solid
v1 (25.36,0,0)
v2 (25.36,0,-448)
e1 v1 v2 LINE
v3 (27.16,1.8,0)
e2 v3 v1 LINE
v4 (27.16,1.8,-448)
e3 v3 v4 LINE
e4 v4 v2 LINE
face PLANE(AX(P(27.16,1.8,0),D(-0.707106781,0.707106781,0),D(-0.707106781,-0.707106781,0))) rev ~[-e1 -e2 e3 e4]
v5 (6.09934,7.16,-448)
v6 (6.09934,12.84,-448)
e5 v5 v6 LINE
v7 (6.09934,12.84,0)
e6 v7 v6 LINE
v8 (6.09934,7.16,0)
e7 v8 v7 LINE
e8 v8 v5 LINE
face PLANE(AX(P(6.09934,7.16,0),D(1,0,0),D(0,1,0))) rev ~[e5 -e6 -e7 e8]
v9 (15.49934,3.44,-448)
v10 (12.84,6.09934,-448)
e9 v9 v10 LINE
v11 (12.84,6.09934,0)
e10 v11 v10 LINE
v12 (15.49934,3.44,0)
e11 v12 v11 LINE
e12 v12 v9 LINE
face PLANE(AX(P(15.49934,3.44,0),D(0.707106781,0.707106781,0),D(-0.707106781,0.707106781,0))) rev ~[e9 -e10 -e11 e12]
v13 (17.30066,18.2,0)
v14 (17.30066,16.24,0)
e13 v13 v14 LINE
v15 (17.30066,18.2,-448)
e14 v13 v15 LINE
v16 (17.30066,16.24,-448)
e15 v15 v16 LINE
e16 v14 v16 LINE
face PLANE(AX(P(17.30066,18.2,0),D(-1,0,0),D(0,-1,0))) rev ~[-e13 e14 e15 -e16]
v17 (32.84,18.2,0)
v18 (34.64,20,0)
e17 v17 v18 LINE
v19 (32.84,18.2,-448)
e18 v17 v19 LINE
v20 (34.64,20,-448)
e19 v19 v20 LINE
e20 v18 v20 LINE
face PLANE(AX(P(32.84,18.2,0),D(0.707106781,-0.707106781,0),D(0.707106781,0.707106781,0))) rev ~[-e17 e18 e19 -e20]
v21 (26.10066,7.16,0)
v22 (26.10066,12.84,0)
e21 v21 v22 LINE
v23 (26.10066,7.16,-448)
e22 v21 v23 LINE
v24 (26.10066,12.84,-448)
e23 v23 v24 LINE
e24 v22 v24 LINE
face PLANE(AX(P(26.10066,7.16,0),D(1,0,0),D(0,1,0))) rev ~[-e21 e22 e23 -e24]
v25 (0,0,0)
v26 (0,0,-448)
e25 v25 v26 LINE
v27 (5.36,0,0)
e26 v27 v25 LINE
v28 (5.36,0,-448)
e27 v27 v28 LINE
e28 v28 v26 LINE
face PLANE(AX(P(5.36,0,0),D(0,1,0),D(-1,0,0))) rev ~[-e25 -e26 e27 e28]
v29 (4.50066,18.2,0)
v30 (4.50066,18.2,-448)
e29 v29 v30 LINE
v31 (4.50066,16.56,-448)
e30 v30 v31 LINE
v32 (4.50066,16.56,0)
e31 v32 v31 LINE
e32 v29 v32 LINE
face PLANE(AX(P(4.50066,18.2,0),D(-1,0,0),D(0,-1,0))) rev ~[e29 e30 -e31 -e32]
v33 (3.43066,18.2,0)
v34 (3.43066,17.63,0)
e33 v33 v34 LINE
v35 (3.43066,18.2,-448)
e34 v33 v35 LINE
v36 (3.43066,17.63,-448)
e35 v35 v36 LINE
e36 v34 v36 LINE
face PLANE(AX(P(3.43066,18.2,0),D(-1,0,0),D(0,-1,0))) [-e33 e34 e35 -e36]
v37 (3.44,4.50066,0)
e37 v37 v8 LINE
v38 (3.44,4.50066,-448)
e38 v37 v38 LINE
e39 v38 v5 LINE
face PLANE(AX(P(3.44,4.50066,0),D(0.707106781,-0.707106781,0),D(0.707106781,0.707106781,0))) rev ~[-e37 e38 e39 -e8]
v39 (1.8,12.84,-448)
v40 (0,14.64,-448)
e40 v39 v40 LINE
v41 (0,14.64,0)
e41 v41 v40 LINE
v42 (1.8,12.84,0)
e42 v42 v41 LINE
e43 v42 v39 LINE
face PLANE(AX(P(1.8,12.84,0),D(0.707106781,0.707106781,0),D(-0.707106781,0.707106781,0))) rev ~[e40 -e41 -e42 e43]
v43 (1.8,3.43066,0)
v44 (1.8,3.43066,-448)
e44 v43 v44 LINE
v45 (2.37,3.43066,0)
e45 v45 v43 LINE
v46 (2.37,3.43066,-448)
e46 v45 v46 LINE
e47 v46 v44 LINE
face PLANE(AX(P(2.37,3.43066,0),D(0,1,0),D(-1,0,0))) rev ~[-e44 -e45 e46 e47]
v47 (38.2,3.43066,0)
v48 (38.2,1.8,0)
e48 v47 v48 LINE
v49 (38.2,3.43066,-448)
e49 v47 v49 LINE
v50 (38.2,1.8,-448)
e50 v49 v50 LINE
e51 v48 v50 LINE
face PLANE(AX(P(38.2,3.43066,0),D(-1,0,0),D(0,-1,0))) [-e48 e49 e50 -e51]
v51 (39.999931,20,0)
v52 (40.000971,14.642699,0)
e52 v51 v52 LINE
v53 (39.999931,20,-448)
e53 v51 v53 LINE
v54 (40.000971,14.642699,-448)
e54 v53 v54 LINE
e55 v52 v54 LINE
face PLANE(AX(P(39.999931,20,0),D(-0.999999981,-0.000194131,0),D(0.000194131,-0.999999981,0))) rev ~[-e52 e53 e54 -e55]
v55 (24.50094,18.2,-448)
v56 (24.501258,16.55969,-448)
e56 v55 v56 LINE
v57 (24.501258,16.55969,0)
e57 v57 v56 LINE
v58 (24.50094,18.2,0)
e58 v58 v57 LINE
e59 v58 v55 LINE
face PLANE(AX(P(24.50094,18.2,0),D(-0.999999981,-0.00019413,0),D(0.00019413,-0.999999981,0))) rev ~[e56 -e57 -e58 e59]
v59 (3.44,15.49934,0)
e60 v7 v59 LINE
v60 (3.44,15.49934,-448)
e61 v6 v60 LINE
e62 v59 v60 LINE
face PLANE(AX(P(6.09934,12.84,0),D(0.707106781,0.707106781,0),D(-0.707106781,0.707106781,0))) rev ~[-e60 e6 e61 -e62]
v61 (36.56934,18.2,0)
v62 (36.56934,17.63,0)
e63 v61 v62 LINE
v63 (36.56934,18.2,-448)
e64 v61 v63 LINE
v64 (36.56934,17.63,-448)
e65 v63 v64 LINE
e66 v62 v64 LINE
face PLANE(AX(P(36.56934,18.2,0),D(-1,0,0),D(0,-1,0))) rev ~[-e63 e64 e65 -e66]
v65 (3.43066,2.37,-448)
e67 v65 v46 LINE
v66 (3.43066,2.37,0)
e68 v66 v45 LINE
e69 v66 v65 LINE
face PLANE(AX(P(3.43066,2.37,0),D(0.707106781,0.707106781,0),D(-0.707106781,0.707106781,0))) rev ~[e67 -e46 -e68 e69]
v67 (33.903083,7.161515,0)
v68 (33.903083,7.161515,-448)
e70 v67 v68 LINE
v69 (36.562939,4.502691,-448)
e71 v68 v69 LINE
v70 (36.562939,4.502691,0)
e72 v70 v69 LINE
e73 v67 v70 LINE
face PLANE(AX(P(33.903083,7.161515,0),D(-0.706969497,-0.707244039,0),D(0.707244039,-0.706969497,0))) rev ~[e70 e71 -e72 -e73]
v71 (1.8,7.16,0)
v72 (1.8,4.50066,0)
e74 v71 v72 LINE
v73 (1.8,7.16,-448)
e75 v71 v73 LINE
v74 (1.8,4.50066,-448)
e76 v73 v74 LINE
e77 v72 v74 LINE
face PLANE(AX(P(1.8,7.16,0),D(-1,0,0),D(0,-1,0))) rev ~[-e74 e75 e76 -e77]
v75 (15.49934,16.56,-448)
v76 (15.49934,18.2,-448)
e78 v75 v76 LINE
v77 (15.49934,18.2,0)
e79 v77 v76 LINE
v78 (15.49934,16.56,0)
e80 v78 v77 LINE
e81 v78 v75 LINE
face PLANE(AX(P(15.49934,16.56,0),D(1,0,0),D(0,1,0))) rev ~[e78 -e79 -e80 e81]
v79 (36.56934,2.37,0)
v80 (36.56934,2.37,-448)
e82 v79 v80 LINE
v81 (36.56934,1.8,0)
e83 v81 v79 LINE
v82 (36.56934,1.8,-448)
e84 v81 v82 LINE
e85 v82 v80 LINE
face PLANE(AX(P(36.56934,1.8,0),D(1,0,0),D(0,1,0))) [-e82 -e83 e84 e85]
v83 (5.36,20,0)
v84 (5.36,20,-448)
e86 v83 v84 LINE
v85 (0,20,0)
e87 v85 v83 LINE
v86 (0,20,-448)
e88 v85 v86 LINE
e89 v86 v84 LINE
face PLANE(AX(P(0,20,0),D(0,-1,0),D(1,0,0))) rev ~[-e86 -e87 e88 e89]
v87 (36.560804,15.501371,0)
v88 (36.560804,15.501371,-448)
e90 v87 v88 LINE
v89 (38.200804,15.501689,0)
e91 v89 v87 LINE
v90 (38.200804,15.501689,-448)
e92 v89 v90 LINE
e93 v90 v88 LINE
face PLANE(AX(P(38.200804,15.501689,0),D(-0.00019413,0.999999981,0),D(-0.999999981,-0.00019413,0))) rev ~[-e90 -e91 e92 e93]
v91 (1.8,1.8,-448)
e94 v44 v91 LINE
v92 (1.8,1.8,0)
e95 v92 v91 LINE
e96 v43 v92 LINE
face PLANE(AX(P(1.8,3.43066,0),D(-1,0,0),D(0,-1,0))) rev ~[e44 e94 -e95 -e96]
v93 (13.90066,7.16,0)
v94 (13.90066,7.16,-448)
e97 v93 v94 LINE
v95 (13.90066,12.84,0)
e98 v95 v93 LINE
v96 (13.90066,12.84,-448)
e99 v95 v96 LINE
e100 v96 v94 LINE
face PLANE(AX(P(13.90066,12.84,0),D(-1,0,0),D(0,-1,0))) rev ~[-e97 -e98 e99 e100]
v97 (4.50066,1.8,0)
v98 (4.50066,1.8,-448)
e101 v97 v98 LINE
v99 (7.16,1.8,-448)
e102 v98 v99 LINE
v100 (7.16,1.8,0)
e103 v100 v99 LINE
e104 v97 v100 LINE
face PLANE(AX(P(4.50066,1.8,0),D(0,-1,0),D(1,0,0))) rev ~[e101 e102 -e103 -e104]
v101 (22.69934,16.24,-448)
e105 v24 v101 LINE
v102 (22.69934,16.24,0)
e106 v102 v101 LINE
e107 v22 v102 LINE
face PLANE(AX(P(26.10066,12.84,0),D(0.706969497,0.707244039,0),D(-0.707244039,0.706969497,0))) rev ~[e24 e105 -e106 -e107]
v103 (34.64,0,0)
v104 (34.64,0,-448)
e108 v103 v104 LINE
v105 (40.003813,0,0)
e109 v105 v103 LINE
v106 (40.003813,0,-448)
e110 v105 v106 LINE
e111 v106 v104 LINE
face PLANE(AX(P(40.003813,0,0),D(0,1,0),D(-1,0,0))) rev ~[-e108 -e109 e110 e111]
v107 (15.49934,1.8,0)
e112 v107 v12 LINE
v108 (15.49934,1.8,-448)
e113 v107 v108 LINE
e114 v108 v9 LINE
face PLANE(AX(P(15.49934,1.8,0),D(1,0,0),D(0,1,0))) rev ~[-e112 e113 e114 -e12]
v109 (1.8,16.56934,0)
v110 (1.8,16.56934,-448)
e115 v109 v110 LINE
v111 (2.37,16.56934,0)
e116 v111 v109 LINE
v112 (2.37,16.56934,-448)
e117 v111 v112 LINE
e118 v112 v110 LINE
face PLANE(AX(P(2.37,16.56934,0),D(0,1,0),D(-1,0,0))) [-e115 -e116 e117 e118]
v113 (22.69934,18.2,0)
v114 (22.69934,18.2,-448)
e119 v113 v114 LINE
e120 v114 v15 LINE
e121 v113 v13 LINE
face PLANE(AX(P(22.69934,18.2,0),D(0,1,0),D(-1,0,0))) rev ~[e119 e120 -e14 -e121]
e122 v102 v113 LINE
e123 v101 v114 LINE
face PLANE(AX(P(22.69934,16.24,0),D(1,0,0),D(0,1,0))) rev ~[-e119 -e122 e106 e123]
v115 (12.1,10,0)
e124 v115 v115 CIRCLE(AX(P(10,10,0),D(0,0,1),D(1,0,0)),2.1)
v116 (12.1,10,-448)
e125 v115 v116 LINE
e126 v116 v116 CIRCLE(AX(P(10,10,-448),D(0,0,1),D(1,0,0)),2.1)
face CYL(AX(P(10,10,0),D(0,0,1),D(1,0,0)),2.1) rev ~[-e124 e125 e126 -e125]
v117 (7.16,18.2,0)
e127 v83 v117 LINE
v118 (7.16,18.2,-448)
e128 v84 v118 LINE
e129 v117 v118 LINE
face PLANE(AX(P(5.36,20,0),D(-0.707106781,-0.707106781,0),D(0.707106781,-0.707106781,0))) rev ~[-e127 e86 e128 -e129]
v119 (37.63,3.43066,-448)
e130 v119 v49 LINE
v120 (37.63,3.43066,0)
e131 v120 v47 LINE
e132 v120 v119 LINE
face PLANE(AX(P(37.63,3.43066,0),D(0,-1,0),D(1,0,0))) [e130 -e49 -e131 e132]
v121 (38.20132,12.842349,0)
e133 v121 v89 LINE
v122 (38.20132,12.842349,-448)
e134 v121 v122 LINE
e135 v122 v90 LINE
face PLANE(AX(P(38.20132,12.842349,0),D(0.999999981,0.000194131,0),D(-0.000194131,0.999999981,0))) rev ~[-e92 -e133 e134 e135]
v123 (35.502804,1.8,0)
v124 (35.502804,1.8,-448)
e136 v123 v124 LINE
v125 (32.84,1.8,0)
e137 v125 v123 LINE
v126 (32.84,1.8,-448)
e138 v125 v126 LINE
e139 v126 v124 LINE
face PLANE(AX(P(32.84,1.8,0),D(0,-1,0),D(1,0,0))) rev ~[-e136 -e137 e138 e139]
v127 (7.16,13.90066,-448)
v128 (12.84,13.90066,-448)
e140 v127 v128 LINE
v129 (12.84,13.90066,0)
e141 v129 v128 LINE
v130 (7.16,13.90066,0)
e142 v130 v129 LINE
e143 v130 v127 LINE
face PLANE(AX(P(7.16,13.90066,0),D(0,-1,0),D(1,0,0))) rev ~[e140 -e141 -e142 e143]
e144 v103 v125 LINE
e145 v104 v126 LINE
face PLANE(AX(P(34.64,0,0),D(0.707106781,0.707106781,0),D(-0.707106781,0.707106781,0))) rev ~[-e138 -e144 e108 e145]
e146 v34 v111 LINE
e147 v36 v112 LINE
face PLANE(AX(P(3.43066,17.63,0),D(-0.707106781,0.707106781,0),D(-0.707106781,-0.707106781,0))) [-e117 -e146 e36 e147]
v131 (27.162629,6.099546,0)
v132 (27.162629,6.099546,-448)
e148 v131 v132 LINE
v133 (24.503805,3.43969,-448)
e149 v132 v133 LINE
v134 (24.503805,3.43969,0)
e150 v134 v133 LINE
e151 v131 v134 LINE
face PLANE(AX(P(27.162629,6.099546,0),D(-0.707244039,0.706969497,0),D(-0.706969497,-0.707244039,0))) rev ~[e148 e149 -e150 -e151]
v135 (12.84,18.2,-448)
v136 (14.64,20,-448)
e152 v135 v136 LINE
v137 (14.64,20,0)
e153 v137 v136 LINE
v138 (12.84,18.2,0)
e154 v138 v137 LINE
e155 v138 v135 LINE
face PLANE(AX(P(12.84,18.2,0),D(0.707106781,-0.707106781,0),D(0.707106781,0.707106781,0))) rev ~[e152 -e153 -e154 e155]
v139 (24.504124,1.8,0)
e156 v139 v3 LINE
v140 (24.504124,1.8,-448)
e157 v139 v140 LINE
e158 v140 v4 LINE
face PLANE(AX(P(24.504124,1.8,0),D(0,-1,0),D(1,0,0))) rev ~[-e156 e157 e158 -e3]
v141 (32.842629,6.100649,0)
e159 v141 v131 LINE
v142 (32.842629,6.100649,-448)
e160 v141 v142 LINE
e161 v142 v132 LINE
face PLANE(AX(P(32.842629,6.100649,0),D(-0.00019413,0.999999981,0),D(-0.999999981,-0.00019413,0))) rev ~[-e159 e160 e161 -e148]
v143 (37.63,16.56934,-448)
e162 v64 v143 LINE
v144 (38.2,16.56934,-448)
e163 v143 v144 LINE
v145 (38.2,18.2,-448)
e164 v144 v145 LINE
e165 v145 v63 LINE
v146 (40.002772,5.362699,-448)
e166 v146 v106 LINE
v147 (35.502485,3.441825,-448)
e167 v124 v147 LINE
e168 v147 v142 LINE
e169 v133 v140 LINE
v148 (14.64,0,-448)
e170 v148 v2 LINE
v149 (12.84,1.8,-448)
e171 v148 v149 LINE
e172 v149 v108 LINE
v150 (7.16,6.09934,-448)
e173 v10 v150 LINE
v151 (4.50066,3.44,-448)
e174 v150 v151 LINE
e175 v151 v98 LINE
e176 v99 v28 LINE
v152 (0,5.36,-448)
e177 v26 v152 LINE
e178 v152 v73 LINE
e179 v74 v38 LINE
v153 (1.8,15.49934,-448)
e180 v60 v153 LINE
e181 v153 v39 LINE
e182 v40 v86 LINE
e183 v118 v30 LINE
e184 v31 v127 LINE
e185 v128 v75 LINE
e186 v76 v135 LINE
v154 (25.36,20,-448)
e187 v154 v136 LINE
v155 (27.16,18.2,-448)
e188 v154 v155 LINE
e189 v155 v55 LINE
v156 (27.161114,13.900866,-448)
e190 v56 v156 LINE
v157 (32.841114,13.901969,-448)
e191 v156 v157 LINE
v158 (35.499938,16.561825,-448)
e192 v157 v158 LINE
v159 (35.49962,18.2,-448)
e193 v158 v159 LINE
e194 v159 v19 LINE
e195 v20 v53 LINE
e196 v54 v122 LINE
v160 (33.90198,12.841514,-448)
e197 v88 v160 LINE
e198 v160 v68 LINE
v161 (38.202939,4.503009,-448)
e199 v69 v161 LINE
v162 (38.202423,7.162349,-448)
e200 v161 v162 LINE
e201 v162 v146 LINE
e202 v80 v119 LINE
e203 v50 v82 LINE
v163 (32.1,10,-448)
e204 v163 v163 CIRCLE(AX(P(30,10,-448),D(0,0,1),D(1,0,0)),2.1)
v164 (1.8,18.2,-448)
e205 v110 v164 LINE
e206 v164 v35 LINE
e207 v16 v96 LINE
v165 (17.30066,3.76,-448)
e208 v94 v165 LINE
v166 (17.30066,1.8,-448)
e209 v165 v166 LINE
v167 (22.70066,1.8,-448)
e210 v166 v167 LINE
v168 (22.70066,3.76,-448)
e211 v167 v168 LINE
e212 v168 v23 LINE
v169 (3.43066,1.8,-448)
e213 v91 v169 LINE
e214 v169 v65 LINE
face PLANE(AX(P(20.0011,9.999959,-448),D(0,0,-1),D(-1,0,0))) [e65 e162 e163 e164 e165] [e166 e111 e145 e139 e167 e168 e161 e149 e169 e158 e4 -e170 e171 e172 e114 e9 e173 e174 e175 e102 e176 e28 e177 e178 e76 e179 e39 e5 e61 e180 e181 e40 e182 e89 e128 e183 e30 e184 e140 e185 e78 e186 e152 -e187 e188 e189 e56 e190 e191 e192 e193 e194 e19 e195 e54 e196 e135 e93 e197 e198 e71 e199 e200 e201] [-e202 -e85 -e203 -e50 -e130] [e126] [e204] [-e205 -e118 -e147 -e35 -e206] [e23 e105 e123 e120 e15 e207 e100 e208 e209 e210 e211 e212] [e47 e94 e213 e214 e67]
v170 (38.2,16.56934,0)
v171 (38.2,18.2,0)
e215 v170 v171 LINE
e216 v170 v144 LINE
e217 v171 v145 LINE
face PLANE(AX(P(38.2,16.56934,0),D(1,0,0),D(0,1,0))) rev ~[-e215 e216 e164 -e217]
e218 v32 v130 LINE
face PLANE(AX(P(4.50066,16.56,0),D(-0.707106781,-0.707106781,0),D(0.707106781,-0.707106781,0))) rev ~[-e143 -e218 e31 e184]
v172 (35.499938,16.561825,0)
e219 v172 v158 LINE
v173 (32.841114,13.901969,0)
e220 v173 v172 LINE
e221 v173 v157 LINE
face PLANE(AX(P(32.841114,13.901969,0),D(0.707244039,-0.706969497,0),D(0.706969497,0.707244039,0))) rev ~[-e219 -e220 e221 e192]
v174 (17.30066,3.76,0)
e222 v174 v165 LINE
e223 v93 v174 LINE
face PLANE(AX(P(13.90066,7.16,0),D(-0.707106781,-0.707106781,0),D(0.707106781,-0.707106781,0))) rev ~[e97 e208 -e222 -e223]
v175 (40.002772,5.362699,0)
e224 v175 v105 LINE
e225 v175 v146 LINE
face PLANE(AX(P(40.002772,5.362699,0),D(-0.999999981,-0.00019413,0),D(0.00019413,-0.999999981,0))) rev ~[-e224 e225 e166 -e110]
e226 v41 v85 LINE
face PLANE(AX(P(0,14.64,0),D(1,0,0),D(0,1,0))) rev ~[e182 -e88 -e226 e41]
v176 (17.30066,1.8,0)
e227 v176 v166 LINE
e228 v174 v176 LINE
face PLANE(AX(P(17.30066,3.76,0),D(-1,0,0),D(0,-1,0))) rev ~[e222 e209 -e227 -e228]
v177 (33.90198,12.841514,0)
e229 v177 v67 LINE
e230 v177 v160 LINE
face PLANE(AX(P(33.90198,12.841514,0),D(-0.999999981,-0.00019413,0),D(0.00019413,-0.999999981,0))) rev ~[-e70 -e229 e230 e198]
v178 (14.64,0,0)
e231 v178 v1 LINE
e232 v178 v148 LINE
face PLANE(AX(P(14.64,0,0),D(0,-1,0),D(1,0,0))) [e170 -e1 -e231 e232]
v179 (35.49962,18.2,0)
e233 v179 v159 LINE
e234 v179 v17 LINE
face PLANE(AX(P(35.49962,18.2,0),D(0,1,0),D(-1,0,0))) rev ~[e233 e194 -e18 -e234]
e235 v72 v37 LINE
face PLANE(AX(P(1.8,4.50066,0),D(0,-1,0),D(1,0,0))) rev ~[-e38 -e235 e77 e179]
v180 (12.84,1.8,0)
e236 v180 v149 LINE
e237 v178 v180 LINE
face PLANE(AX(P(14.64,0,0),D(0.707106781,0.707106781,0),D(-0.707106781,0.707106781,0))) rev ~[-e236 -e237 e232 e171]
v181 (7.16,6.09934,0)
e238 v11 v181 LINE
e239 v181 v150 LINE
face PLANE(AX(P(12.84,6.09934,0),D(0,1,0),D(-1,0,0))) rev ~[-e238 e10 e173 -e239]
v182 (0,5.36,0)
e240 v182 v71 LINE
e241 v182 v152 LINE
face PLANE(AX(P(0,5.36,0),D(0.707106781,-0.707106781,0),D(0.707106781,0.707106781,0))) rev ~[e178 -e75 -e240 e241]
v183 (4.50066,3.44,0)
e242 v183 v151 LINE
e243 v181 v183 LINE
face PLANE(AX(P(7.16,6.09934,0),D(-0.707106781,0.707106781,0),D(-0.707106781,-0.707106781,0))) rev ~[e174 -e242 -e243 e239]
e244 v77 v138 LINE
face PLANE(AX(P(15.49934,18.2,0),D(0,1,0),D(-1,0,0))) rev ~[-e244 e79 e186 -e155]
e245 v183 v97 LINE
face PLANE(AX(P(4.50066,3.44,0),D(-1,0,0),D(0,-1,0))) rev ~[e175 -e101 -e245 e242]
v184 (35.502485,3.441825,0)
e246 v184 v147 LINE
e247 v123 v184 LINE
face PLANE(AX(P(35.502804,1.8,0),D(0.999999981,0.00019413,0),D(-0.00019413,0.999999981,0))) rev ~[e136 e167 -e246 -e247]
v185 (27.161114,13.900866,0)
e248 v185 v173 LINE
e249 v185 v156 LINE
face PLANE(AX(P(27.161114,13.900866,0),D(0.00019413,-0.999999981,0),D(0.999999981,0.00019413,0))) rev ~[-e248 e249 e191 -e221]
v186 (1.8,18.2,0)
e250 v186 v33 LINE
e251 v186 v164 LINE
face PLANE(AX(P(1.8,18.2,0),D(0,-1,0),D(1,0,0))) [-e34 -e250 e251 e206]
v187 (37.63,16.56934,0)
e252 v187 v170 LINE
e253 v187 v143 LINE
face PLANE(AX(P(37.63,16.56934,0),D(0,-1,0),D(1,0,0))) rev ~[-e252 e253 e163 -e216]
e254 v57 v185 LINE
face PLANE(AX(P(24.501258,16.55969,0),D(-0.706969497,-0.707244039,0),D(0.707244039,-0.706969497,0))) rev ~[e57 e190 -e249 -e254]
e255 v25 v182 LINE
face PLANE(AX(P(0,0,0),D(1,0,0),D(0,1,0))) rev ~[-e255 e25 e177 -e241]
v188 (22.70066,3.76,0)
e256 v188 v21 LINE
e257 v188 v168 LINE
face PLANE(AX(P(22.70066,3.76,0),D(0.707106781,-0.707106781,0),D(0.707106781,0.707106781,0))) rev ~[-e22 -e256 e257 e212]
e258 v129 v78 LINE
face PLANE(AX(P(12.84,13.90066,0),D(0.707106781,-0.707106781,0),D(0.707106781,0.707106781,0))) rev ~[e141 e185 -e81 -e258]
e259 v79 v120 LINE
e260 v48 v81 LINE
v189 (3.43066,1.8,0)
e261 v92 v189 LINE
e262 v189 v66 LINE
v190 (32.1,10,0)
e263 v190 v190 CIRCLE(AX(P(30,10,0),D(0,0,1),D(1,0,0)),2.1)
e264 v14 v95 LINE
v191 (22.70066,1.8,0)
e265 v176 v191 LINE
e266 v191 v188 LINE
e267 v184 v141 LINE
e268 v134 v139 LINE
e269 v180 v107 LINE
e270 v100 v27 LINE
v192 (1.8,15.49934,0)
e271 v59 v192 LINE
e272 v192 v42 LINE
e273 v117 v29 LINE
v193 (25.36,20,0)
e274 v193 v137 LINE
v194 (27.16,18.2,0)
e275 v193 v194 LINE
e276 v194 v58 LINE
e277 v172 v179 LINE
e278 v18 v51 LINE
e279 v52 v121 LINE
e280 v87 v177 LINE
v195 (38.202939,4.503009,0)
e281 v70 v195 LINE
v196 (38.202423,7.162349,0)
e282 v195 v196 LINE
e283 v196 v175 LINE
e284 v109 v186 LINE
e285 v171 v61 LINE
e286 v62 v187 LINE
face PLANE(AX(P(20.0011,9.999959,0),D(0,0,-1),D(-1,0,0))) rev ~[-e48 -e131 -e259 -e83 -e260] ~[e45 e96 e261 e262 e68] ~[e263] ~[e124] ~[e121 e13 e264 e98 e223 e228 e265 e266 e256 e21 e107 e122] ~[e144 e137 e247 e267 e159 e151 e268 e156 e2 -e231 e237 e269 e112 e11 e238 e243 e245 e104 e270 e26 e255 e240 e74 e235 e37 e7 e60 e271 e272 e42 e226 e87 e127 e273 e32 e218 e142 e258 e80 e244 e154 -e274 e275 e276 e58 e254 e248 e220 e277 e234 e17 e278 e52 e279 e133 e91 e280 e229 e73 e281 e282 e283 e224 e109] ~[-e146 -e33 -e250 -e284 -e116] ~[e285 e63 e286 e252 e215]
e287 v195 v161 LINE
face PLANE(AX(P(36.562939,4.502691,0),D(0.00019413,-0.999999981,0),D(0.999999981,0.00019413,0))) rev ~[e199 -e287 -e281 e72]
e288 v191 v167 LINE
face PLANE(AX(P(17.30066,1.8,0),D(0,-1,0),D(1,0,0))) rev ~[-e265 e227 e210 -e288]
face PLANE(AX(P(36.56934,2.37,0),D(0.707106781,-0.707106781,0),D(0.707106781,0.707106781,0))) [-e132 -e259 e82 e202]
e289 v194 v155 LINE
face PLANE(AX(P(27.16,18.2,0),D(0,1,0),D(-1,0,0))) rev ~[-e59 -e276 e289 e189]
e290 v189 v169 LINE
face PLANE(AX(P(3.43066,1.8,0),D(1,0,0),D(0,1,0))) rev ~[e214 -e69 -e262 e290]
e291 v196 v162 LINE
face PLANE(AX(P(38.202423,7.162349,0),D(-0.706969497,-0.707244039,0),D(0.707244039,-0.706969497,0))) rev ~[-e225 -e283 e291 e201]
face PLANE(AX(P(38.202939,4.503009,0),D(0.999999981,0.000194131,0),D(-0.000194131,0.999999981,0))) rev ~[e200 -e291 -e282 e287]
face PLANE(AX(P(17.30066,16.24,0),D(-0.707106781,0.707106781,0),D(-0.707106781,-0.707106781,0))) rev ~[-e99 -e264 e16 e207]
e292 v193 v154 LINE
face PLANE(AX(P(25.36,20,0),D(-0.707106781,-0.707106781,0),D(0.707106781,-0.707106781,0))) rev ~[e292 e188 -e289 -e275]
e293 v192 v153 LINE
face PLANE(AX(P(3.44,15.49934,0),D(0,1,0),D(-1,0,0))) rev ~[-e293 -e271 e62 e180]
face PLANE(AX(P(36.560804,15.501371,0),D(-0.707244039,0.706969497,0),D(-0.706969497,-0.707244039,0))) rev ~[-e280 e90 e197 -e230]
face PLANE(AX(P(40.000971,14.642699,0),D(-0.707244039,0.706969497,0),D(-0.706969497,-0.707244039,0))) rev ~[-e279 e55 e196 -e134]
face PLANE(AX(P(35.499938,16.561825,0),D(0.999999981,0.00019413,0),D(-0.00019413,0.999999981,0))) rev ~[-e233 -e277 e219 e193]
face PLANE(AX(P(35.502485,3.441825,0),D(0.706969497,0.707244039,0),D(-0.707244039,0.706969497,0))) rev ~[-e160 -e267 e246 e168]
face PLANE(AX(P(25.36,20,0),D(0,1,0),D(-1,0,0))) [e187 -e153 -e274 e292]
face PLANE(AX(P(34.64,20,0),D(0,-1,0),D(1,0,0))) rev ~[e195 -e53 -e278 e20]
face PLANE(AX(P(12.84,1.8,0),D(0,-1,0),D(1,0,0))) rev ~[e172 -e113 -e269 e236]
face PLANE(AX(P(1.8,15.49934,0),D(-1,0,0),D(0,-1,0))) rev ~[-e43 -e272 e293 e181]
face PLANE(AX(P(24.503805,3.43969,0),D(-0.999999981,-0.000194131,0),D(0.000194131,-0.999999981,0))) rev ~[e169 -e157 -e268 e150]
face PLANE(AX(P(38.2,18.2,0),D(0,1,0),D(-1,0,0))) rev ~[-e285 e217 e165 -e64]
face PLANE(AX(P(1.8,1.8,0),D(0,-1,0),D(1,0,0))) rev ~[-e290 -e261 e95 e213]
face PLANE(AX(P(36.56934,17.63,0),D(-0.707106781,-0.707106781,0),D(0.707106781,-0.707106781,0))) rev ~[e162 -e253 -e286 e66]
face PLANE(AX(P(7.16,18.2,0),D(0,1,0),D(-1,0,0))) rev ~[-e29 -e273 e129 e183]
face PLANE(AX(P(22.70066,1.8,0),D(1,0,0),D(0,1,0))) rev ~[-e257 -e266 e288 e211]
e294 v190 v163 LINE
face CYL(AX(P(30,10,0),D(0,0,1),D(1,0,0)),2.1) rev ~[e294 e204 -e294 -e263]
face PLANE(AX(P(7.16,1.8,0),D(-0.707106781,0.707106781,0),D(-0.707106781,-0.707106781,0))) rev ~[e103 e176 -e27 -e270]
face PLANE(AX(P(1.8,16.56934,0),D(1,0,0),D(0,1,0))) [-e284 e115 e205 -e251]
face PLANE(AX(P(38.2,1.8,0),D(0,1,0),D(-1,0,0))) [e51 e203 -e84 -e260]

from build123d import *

# Parameters (mm, degrees)
SKETCH1_R           = 2.1
BOSS_EXTRUDE1_DEPTH = 448


with BuildPart() as part:
    # Sketch1 → Boss-Extrude1 (new body)
    with BuildSketch(Plane.XY):
        Polygon((0, 0), (0, 5.36), (1.8, 7.16), (1.8, 4.500660172), (3.44, 4.500660172), (6.099339828, 7.16), (6.099339828, 12.84), (3.44, 15.499339828), (1.8, 15.499339828), (1.8, 12.84), (0, 14.64), (0, 20), (5.36, 20), (7.16, 18.2), (4.500660172, 18.2), (4.500660172, 16.56), (7.16, 13.900660172), (12.84, 13.900660172), (15.499339828, 16.56), (15.499339828, 18.2), (12.84, 18.2), (14.64, 20), (20, 20), (25.36, 20), (27.16, 18.2), (24.500939946, 18.2), (24.50125838, 16.559689577), (27.161114417, 13.900866058), (32.84111431, 13.901968719), (35.499937829, 16.561824756), (35.49961981, 18.2), (32.84, 18.2), (34.64, 20), (39.999930631, 20), (40.000970647, 14.642698508), (38.201320116, 12.842349107), (38.200803857, 15.501688885), (36.560803888, 15.501370511), (33.901980368, 12.841514474), (33.903083029, 7.161514581), (36.562939066, 4.502691062), (38.202939036, 4.503009436), (38.202422777, 7.162349214), (40.002772178, 5.362698683), (40.003813241, 0), (34.64, 0), (32.84, 1.8), (35.502803549, 1.8), (35.502484821, 3.441825004), (32.842628784, 6.100648523), (27.162628891, 6.099545862), (24.503805372, 3.439689825), (24.504123686, 1.8), (27.16, 1.8), (25.36, 0), (20, 0), (14.64, 0), (12.84, 1.8), (15.499339828, 1.8), (15.499339828, 3.44), (12.84, 6.099339828), (7.16, 6.099339828), (4.500660172, 3.44), (4.500660172, 1.8), (7.16, 1.8), (5.36, 0), align=None)
        with Locations((10, 10)):
            Circle(SKETCH1_R, mode=Mode.SUBTRACT)
        with Locations((30, 10)):
            Circle(SKETCH1_R, mode=Mode.SUBTRACT)
        Polygon((17.300660172, 3.76), (17.300660172, 1.8), (22.700660172, 1.8), (22.700660172, 3.76), (26.100660172, 7.16), (26.100660172, 12.84), (22.699339828, 16.24), (22.699339828, 18.2), (17.300660172, 18.2), (17.300660172, 16.24), (13.900660172, 12.84), (13.900660172, 7.16), align=None, mode=Mode.SUBTRACT)
        Polygon((1.8, 18.2), (3.430660172, 18.2), (3.430660172, 17.63), (2.37, 16.569339828), (1.8, 16.569339828), align=None, mode=Mode.SUBTRACT)
        Polygon((1.8, 3.430660172), (1.8, 1.8), (3.430660172, 1.8), (3.430660172, 2.37), (2.37, 3.430660172), align=None, mode=Mode.SUBTRACT)
        Polygon((38.2, 1.8), (36.569339828, 1.8), (36.569339828, 2.37), (37.63, 3.430660172), (38.2, 3.430660172), align=None, mode=Mode.SUBTRACT)
        Polygon((38.2, 16.569339828), (38.2, 18.2), (36.569339828, 18.2), (36.569339828, 17.63), (37.63, 16.569339828), align=None, mode=Mode.SUBTRACT)
    extrude(amount=-BOSS_EXTRUDE1_DEPTH)


solid = part.part
